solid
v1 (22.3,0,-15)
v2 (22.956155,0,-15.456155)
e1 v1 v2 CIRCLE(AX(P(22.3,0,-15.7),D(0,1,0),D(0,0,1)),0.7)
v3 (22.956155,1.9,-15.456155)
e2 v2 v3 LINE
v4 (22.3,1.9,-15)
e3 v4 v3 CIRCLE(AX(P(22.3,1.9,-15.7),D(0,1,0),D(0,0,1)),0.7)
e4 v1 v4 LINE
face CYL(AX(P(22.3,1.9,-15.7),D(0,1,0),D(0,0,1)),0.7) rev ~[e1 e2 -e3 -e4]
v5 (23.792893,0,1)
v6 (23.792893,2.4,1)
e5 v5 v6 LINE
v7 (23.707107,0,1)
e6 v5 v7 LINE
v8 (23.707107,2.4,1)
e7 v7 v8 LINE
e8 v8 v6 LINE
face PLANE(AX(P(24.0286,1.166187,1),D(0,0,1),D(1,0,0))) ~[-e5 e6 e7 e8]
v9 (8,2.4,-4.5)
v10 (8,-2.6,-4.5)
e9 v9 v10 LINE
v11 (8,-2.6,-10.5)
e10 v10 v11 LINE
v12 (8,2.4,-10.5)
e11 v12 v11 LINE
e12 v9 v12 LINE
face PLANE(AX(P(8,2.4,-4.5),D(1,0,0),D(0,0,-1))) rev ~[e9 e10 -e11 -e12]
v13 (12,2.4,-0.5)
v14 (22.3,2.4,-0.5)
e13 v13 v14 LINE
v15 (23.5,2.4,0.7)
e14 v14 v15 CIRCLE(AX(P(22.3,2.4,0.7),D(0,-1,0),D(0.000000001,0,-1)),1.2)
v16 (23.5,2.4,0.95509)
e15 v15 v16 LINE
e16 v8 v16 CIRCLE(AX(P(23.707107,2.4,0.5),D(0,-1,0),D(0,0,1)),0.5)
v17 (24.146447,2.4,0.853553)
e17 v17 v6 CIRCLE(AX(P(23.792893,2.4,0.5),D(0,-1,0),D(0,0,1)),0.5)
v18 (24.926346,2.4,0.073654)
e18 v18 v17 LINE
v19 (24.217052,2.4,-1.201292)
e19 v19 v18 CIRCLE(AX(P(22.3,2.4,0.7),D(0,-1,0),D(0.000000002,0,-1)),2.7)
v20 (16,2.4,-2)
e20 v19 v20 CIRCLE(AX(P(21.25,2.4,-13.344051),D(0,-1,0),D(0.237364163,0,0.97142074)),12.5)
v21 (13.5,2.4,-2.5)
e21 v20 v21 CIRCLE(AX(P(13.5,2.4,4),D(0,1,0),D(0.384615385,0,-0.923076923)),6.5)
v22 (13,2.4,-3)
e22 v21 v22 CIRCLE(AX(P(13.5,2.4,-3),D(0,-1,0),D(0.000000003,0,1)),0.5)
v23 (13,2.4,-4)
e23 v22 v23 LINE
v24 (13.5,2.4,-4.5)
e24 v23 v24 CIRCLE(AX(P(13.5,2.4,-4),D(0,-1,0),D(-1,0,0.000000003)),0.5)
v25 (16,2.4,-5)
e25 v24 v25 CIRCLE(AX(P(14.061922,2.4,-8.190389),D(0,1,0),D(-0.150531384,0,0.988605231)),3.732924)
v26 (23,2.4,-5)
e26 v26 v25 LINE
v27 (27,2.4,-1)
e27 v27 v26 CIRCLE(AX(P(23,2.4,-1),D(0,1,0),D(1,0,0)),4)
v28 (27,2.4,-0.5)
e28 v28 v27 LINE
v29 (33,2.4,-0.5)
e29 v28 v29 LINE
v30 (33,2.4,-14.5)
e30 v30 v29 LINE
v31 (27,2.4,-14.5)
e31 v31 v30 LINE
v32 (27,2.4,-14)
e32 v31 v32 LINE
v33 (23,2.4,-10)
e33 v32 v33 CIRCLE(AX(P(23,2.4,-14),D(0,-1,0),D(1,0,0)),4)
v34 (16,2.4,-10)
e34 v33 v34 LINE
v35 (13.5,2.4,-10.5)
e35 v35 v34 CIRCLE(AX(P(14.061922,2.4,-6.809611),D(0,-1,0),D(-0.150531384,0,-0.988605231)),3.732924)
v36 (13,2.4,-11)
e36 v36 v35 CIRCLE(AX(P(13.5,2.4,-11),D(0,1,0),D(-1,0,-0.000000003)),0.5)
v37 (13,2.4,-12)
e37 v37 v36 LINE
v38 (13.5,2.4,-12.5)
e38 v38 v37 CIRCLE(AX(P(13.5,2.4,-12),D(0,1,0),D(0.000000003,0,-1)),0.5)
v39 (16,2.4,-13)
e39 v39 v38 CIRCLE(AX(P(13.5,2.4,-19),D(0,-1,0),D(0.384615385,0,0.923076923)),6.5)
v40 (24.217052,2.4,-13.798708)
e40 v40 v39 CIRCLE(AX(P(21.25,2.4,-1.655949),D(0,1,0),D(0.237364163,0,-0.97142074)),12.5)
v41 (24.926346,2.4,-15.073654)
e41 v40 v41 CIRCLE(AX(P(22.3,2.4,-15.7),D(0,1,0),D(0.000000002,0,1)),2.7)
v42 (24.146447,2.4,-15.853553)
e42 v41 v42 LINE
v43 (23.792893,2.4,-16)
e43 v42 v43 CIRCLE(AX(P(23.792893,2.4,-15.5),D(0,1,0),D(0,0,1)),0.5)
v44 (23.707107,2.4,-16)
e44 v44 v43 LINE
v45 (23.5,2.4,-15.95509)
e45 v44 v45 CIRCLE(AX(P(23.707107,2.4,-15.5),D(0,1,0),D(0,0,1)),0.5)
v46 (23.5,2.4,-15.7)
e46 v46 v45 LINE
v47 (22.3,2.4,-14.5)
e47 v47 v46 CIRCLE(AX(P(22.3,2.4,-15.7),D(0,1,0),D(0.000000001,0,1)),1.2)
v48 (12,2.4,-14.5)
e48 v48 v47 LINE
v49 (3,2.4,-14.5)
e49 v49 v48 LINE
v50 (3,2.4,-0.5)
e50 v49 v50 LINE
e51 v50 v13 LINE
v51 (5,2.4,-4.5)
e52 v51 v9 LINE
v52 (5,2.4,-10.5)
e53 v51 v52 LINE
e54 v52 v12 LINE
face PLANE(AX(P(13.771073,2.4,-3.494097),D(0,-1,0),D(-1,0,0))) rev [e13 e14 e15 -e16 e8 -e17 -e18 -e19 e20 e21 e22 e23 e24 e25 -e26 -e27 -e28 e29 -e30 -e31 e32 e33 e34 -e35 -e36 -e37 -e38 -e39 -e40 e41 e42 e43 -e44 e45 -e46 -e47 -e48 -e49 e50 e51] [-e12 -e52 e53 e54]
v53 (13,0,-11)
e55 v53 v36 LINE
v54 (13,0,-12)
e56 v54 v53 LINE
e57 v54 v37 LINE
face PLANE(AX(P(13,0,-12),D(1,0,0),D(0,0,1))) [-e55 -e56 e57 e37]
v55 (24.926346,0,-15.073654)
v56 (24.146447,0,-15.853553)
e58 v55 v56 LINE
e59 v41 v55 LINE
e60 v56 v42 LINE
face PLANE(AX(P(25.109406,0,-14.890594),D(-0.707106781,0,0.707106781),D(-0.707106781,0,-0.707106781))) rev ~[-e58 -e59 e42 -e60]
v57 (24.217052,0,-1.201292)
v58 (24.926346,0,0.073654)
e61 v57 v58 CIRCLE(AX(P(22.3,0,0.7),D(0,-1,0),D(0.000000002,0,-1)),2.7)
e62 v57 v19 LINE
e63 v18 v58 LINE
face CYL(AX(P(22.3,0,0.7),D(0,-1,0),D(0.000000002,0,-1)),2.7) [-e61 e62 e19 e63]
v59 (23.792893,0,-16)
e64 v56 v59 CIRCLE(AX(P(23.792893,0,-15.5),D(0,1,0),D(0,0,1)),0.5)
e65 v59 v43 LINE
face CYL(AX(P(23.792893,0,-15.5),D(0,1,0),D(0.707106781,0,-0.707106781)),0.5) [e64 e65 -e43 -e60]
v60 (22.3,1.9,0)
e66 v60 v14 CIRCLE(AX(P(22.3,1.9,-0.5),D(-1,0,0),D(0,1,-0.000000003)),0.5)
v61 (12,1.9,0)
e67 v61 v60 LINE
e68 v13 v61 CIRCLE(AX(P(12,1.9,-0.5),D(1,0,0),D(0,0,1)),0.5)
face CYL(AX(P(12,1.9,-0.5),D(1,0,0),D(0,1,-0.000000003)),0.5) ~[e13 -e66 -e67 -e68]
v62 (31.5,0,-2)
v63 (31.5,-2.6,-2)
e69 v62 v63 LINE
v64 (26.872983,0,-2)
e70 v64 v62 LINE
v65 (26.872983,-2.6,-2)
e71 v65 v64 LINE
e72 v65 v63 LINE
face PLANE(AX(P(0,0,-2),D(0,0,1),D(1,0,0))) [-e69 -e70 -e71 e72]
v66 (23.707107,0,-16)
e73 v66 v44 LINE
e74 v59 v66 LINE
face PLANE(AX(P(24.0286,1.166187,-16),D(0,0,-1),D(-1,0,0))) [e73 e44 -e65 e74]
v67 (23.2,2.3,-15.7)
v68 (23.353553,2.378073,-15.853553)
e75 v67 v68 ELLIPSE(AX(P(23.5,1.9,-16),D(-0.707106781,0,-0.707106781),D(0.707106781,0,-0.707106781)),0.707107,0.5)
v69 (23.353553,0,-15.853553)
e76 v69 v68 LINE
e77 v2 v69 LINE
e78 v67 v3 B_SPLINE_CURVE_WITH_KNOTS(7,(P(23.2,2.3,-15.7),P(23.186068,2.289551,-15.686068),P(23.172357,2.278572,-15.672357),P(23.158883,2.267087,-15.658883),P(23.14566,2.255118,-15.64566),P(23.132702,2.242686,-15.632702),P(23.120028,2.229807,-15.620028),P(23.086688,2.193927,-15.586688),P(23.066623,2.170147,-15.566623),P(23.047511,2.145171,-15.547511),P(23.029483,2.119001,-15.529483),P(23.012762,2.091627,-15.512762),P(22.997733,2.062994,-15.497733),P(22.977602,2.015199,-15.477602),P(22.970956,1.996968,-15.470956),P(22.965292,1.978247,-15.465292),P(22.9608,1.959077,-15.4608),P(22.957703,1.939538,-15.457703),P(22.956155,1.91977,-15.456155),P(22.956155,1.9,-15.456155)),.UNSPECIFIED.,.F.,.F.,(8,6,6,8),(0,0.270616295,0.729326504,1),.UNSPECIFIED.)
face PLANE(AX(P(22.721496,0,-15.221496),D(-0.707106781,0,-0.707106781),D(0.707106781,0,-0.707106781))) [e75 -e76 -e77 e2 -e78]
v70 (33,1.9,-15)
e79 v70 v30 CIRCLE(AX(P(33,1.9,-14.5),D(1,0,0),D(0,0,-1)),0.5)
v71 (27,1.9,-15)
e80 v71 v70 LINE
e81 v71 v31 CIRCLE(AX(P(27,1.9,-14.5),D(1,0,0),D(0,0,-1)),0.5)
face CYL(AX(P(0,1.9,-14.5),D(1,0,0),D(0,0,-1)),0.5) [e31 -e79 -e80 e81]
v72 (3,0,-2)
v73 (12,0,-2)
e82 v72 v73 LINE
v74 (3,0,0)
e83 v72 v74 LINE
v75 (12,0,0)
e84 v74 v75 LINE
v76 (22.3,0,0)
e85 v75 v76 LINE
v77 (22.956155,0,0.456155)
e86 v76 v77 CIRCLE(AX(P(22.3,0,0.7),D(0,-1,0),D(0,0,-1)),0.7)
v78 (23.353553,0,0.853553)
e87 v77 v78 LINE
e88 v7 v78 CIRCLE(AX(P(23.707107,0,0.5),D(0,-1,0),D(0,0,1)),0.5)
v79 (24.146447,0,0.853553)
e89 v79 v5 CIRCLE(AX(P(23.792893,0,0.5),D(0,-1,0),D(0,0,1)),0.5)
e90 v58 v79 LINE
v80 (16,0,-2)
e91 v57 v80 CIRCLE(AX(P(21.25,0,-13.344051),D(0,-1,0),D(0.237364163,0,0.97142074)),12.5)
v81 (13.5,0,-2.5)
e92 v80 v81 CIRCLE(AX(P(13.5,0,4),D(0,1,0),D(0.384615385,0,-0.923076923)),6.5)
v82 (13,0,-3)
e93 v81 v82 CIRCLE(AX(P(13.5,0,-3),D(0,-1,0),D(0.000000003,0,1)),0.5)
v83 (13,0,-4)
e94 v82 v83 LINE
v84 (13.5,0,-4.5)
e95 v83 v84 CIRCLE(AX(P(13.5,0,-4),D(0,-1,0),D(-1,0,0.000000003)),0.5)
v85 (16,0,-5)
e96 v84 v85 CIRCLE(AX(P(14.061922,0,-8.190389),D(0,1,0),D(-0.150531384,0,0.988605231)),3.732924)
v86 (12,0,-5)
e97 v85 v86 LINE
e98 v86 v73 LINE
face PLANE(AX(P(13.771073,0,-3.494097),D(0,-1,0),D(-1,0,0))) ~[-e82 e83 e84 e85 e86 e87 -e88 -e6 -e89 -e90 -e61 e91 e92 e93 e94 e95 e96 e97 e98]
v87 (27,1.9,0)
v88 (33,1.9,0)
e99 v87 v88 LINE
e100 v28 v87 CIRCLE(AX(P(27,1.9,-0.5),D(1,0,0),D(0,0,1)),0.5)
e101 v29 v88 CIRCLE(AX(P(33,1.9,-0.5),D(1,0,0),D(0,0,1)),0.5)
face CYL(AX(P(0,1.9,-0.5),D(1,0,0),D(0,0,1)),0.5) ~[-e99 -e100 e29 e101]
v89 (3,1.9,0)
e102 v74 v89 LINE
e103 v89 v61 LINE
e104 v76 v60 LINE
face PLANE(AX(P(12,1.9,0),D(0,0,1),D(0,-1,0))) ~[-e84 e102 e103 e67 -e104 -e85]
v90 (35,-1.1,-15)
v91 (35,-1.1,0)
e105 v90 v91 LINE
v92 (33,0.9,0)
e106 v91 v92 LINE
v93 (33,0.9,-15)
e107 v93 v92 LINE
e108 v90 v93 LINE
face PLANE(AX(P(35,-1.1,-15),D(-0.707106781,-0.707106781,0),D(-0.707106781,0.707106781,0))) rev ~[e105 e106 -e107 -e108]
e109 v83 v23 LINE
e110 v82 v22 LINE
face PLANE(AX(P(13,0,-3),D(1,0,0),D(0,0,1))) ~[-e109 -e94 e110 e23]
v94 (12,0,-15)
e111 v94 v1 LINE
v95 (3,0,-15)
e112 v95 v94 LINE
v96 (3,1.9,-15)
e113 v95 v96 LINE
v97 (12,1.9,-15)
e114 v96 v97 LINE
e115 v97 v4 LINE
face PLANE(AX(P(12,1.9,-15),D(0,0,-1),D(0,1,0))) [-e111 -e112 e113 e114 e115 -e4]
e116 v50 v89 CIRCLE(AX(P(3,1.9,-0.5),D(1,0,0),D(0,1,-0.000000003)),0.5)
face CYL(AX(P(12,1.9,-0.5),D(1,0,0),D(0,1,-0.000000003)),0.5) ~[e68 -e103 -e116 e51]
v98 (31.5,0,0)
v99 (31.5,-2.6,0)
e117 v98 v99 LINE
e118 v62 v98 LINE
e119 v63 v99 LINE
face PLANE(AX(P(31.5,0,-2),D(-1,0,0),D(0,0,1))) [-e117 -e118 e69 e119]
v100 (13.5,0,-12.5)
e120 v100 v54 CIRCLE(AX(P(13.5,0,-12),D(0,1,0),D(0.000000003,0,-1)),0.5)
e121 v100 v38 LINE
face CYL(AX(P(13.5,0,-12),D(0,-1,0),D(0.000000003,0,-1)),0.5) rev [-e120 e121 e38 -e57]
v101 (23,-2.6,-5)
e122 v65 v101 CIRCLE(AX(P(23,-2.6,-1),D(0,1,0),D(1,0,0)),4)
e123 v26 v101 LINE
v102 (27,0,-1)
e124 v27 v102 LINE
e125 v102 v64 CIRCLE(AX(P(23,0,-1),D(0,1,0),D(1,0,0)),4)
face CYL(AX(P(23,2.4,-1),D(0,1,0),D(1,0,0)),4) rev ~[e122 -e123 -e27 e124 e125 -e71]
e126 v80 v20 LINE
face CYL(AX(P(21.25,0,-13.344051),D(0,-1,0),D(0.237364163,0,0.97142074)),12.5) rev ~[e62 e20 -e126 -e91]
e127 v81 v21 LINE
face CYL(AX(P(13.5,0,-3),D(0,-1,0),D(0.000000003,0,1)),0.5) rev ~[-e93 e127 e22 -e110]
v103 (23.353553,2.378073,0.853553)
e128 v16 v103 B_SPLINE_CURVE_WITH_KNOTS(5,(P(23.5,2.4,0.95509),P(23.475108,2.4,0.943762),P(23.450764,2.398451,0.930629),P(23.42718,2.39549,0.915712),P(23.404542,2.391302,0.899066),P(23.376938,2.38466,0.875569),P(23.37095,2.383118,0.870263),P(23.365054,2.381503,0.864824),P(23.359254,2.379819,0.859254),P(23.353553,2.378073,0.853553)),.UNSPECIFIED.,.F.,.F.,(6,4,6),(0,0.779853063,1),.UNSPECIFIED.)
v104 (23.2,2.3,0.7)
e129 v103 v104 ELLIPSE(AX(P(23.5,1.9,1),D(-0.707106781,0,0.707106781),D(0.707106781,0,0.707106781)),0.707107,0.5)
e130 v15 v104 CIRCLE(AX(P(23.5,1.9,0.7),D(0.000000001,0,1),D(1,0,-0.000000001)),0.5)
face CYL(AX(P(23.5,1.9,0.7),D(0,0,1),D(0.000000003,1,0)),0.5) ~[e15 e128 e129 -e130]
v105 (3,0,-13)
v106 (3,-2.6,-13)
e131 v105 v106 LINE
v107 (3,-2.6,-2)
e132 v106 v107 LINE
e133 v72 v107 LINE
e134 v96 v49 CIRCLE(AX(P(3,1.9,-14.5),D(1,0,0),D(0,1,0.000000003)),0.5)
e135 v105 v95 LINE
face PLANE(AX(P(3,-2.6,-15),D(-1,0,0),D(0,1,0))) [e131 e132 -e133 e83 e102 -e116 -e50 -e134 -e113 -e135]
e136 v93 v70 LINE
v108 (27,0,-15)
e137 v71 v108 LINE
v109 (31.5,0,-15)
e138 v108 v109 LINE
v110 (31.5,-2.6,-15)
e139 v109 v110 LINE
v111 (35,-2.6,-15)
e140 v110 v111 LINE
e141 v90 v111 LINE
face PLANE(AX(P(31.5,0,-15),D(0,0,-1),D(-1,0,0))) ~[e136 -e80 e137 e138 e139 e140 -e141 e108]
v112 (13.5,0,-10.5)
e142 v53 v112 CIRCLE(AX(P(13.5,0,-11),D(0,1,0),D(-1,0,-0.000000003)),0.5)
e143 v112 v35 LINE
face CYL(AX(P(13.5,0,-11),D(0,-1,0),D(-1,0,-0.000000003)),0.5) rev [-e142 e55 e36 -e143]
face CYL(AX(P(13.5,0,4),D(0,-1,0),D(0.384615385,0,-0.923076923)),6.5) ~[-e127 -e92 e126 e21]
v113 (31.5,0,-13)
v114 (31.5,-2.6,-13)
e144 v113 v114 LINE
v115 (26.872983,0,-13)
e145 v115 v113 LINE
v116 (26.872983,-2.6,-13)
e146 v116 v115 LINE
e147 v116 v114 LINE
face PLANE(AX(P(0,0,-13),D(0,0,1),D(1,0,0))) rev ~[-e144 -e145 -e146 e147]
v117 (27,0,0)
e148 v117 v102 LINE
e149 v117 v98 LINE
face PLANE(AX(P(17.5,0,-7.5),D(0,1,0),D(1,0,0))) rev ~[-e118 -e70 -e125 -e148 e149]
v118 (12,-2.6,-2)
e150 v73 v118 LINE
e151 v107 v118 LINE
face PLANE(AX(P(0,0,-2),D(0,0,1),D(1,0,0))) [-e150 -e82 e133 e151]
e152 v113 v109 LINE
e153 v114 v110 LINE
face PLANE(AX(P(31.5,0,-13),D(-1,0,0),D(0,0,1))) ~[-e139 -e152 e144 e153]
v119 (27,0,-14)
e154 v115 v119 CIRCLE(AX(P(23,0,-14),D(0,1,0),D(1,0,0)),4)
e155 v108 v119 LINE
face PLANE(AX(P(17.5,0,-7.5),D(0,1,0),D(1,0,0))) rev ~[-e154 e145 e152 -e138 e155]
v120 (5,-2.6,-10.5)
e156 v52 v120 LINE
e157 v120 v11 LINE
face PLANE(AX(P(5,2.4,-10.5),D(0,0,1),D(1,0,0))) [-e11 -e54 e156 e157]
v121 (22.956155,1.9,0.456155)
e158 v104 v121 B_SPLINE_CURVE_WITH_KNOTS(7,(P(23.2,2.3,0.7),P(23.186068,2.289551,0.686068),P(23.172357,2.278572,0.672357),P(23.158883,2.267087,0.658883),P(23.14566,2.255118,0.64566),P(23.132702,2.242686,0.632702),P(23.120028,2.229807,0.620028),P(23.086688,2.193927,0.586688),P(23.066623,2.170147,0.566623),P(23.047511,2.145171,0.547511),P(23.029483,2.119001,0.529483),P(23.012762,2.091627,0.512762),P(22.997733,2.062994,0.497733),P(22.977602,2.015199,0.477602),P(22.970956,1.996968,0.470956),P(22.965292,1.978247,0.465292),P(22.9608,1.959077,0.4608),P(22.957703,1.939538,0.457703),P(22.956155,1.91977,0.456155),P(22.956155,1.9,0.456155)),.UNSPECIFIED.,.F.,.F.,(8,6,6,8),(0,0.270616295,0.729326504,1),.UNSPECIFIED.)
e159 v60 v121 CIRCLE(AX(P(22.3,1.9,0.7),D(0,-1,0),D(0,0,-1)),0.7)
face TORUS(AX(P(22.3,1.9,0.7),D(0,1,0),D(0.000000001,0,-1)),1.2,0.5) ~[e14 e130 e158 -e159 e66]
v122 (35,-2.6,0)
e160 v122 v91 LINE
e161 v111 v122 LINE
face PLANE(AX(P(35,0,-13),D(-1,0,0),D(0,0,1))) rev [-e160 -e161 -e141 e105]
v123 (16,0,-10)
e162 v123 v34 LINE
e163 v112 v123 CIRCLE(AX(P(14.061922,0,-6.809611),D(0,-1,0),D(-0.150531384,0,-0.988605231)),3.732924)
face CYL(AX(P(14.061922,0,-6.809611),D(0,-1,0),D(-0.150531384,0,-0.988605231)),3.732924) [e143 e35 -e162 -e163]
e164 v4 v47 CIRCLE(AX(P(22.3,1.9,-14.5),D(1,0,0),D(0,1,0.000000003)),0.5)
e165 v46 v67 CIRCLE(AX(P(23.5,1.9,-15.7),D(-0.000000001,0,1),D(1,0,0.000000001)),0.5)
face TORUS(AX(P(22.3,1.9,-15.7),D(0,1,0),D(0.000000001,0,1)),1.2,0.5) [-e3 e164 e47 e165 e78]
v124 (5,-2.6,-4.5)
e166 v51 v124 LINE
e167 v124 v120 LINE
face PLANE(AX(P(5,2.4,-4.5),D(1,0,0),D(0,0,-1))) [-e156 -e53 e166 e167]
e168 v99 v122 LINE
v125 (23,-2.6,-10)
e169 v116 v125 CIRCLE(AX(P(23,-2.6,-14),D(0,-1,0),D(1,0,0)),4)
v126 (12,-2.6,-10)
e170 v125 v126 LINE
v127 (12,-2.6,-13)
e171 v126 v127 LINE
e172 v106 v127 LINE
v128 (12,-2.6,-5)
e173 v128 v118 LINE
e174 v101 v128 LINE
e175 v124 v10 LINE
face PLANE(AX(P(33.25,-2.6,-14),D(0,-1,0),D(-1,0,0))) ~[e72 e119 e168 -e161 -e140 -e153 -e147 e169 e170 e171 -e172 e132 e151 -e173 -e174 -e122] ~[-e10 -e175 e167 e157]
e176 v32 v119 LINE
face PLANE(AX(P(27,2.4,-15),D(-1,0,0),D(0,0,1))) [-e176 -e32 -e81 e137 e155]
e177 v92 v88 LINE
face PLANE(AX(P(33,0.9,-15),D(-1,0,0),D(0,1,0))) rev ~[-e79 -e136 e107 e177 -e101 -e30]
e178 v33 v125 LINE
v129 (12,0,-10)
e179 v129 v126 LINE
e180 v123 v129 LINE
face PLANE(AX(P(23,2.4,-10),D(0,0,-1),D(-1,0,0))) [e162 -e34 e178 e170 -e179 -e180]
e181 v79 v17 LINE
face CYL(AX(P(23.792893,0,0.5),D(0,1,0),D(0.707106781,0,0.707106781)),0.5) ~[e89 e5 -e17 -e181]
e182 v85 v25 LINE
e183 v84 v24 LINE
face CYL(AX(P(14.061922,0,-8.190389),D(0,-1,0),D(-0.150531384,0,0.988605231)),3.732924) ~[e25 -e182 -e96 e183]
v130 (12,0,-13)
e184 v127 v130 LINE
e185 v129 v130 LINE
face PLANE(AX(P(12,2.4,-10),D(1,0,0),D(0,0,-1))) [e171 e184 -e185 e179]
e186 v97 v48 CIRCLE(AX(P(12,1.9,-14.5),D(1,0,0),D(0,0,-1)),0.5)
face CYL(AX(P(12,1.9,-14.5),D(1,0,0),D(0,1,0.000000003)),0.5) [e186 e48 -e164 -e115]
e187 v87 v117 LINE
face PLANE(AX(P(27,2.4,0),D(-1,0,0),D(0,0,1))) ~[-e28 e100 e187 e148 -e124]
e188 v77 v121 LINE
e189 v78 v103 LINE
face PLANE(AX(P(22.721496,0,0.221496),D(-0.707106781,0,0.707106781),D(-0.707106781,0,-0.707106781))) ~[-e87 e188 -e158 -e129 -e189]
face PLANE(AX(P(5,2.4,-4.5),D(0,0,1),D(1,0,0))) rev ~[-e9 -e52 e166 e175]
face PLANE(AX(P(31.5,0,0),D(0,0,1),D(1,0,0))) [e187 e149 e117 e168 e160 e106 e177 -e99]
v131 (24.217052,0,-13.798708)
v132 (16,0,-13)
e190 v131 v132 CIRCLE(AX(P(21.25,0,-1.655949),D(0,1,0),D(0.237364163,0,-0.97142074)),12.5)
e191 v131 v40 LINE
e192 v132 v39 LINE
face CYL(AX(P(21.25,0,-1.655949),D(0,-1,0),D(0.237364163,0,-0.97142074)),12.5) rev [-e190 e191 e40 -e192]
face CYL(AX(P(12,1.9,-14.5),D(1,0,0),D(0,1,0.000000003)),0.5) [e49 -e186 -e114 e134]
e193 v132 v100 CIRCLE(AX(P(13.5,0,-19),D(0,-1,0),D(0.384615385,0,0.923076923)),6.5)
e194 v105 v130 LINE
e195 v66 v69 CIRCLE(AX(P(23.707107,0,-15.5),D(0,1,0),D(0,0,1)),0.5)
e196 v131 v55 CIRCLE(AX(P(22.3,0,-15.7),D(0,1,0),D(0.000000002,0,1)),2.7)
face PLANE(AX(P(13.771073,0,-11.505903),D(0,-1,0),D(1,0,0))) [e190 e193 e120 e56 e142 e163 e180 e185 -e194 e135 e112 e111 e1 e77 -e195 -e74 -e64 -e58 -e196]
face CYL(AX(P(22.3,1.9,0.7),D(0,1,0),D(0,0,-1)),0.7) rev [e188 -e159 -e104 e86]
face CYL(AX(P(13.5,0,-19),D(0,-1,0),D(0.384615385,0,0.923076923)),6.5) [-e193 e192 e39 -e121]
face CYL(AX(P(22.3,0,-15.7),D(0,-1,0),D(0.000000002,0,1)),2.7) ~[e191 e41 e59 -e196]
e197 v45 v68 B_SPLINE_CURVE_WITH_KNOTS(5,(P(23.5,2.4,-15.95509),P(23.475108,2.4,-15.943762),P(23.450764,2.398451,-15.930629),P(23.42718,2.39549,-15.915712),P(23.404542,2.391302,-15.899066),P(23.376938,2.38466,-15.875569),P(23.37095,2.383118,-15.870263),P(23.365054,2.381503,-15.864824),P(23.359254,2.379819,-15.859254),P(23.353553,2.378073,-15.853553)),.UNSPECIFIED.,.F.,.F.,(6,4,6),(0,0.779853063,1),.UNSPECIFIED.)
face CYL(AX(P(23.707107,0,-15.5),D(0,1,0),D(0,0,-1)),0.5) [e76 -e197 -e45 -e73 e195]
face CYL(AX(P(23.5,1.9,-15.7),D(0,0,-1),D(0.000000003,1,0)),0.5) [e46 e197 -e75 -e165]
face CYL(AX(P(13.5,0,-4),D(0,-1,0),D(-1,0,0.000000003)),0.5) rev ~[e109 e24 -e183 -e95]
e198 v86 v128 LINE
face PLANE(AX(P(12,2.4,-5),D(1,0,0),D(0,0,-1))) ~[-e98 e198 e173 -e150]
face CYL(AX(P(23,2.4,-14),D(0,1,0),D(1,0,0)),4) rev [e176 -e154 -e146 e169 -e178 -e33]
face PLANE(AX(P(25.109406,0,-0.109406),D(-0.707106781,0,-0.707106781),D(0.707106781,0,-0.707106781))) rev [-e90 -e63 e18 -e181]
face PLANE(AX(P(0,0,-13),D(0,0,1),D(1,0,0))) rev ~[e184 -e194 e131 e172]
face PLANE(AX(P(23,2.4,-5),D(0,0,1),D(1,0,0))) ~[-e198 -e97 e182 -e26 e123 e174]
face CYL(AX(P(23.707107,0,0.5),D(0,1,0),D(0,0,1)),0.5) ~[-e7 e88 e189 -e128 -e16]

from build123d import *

# Parameters (mm, degrees)
SKETCH_1_W             = 35
SKETCH_1_H             = 15
EXTRUDE_1_DEPTH        = 2.4
FILLET_1_R             = 0.5
SKETCH_2_W             = 35
SKETCH_2_H             = 11
EXTRUDE_2_DEPTH        = 2.6
SKETCH_3_W             = 3.5
SKETCH_3_H             = 2
EXTRUDE_3_DEPTH        = 2.6
CUT_EXTRUDE_1_DEPTH    = 15
CUT_EXTRUDE_2_DEPTH    = 5
CUT_EXTRUDE_3_DEPTH    = 2.4
EXTRUDE_4_DEPTH        = 2.4
CUT_EXTRUDE_4_DEPTH    = 2.4
FILLET_2_R             = 0.5
FILLET_2_OF_MIRROR_2_R = 0.5
SKETCH_17_W            = 3
SKETCH_17_H            = 5
CUT_EXTRUDE_5_DEPTH    = 15
SKETCH_18_W            = 3
SKETCH_18_H            = 6
CUT_EXTRUDE_6_DEPTH    = 5


with BuildPart() as part:
    # 草图1 → 凸台-拉伸1 (new body)
    with BuildSketch(Plane(origin=(0, 0, 0), x_dir=(1, 0, 0), z_dir=(0, 1, 0))):
        with Locations((17.5, 7.5)):
            Rectangle(SKETCH_1_W, SKETCH_1_H)
    extrude(amount=EXTRUDE_1_DEPTH)

    # 圆角1
    fillet_1_edges = [part.edges().sort_by_distance(p)[0] for p in [
        (17.5, 2.4, -15),
        (17.5, 2.4, 0),
    ]]
    fillet(fillet_1_edges, radius=FILLET_1_R)

    # 草图2 → 凸台-拉伸2 (add)
    with BuildSketch(Plane.XZ):
        with Locations((17.5, -7.5)):
            Rectangle(SKETCH_2_W, SKETCH_2_H)
    extrude(amount=EXTRUDE_2_DEPTH)

    # 草图3 → 凸台-拉伸3 (add)
    with BuildSketch(Plane.XZ):
        with Locations((33.25, -1)):
            Rectangle(SKETCH_3_W, SKETCH_3_H)
    extrude_3 = extrude(amount=EXTRUDE_3_DEPTH)

    # 镜向1: 凸台-拉伸3 across plane
    add(extrude_3.mirror(Plane(origin=(0, 0, -7.5), x_dir=(1, 0, 0), z_dir=(0, 0, -1))))

    # 草图4 → 切除-拉伸1 (cut)
    with BuildSketch(Plane(origin=(0, 0, -15), x_dir=(-1, 0, 0), z_dir=(0, 0, -1))):
        Polygon((-35, -1.1), (-33, 0.9), (-33, 2.4), (-35, 2.4), align=None)
    extrude(amount=-CUT_EXTRUDE_1_DEPTH, mode=Mode.SUBTRACT)

    # 草图6 → 切除-拉伸2 (cut)
    with BuildSketch(Plane(origin=(0, 2.4, 0), x_dir=(1, 0, 0), z_dir=(0, 1, 0))):
        with BuildLine():
            Line((12, 15), (27, 15))
            Line((27, 15), (27, 14))
            ThreePointArc((27, 14), (25.828427125, 11.171572875), (23, 10))
            Line((23, 10), (12, 10))
            Line((12, 10), (12, 15))
        make_face()
    cut_extrude_2 = extrude(amount=-CUT_EXTRUDE_2_DEPTH, mode=Mode.SUBTRACT)

    # 扫描4: sweep along a path in 草图13
    with BuildLine(Plane(origin=(0, 2.4, 0), x_dir=(1, 0, 0), z_dir=(0, 1, 0))) as sweep_4_path:
        Line((12, 14.5), (22.3, 14.5))
        ThreePointArc((22.3, 14.5), (23.148528137, 14.851471863), (23.5, 15.7))
        Line((23.5, 15.7), (23.5, 16))
    # 草图10 → 扫描4 (sweep)
    with BuildSketch(Plane(origin=(0, 0, -16), x_dir=(-1, 0, 0), z_dir=(0, 0, -1))):
        with BuildLine():
            Line((-25, 2.4), (-23.5, 2.4))
            ThreePointArc((-23.5, 2.4), (-23.146446609, 2.253553391), (-23, 1.9))
            Line((-23, 1.9), (-23, 0))
            Line((-23, 0), (-25, 0))
            Line((-25, 0), (-25, 2.4))
        make_face()
    sweep_4 = sweep(path=sweep_4_path.line)

    # 草图14 → 切除-拉伸3 (cut)
    with BuildSketch(Plane.XZ):
        Polygon((22.721496019, -16), (22.721496019, -15.221496019), (23.5, -16), align=None)
        Polygon((25.109405679, -16), (25.109405679, -14.890594321), (24, -16), align=None)
    cut_extrude_3 = extrude(amount=-CUT_EXTRUDE_3_DEPTH, mode=Mode.SUBTRACT)

    # 草图15 → 凸台-拉伸4 (add)
    with BuildSketch(Plane.XZ):
        with BuildLine():
            Line((12, -10), (12, -13))
            Line((12, -13), (16, -13))
            ThreePointArc((16, -13), (14.774754878, -12.626225608), (13.5, -12.5))
            ThreePointArc((13.5, -12.5), (13.146446609, -12.353553391), (13, -12))
            Line((13, -12), (13, -11))
            ThreePointArc((13, -11), (13.146446609, -10.646446609), (13.5, -10.5))
            ThreePointArc((13.5, -10.5), (14.794008988, -10.470044942), (16, -10))
            Line((16, -10), (12, -10))
        make_face()
    extrude_4 = extrude(amount=-EXTRUDE_4_DEPTH)

    # 草图16 → 切除-拉伸4 (cut)
    with BuildSketch(Plane.XZ):
        with BuildLine():
            Line((16, -13), (22.3, -13))
            ThreePointArc((22.3, -13), (23.338390931, -13.207662889), (24.217052039, -13.798707945))
            ThreePointArc((24.217052039, -13.798707945), (20.040683481, -14.097313313), (16, -13))
        make_face()
    cut_extrude_4 = extrude(amount=-CUT_EXTRUDE_4_DEPTH, mode=Mode.SUBTRACT)

    # 圆角2
    fillet_2_edges = [part.edges().sort_by_distance(p)[0] for p in [
        (23.5, 1.2, -16),
        (24, 1.2, -16),
    ]]
    fillet(fillet_2_edges, radius=FILLET_2_R)

    # 镜向2: 切除-拉伸2, 扫描4, 切除-拉伸3, 凸台-拉伸4, 切除-拉伸4 across plane
    add(cut_extrude_2.mirror(Plane.XY.offset(-7.5)), mode=Mode.SUBTRACT)
    add(sweep_4.mirror(Plane.XY.offset(-7.5)))
    add(cut_extrude_3.mirror(Plane.XY.offset(-7.5)), mode=Mode.SUBTRACT)
    add(extrude_4.mirror(Plane.XY.offset(-7.5)))
    add(cut_extrude_4.mirror(Plane.XY.offset(-7.5)), mode=Mode.SUBTRACT)

    # 圆角2 of 镜向2
    fillet_2_of_mirror_2_edges = [part.edges().sort_by_distance(p)[0] for p in [
        (23.5, 1.2, 1),
        (24, 1.2, 1),
    ]]
    fillet(fillet_2_of_mirror_2_edges, radius=FILLET_2_OF_MIRROR_2_R)

    # 草图17 → 切除-拉伸5 (cut)
    with BuildSketch(Plane(origin=(0, 0, -15), x_dir=(-1, 0, 0), z_dir=(0, 0, -1))):
        with Locations((-1.5, -0.1)):
            Rectangle(SKETCH_17_W, SKETCH_17_H)
    extrude(amount=-CUT_EXTRUDE_5_DEPTH, mode=Mode.SUBTRACT)

    # 草图18 → 切除-拉伸6 (cut)
    with BuildSketch(Plane(origin=(0, 2.4, 0), x_dir=(1, 0, 0), z_dir=(0, 1, 0))):
        with Locations((6.5, 7.5)):
            Rectangle(SKETCH_18_W, SKETCH_18_H)
    extrude(amount=-CUT_EXTRUDE_6_DEPTH, mode=Mode.SUBTRACT)


solid = part.part
